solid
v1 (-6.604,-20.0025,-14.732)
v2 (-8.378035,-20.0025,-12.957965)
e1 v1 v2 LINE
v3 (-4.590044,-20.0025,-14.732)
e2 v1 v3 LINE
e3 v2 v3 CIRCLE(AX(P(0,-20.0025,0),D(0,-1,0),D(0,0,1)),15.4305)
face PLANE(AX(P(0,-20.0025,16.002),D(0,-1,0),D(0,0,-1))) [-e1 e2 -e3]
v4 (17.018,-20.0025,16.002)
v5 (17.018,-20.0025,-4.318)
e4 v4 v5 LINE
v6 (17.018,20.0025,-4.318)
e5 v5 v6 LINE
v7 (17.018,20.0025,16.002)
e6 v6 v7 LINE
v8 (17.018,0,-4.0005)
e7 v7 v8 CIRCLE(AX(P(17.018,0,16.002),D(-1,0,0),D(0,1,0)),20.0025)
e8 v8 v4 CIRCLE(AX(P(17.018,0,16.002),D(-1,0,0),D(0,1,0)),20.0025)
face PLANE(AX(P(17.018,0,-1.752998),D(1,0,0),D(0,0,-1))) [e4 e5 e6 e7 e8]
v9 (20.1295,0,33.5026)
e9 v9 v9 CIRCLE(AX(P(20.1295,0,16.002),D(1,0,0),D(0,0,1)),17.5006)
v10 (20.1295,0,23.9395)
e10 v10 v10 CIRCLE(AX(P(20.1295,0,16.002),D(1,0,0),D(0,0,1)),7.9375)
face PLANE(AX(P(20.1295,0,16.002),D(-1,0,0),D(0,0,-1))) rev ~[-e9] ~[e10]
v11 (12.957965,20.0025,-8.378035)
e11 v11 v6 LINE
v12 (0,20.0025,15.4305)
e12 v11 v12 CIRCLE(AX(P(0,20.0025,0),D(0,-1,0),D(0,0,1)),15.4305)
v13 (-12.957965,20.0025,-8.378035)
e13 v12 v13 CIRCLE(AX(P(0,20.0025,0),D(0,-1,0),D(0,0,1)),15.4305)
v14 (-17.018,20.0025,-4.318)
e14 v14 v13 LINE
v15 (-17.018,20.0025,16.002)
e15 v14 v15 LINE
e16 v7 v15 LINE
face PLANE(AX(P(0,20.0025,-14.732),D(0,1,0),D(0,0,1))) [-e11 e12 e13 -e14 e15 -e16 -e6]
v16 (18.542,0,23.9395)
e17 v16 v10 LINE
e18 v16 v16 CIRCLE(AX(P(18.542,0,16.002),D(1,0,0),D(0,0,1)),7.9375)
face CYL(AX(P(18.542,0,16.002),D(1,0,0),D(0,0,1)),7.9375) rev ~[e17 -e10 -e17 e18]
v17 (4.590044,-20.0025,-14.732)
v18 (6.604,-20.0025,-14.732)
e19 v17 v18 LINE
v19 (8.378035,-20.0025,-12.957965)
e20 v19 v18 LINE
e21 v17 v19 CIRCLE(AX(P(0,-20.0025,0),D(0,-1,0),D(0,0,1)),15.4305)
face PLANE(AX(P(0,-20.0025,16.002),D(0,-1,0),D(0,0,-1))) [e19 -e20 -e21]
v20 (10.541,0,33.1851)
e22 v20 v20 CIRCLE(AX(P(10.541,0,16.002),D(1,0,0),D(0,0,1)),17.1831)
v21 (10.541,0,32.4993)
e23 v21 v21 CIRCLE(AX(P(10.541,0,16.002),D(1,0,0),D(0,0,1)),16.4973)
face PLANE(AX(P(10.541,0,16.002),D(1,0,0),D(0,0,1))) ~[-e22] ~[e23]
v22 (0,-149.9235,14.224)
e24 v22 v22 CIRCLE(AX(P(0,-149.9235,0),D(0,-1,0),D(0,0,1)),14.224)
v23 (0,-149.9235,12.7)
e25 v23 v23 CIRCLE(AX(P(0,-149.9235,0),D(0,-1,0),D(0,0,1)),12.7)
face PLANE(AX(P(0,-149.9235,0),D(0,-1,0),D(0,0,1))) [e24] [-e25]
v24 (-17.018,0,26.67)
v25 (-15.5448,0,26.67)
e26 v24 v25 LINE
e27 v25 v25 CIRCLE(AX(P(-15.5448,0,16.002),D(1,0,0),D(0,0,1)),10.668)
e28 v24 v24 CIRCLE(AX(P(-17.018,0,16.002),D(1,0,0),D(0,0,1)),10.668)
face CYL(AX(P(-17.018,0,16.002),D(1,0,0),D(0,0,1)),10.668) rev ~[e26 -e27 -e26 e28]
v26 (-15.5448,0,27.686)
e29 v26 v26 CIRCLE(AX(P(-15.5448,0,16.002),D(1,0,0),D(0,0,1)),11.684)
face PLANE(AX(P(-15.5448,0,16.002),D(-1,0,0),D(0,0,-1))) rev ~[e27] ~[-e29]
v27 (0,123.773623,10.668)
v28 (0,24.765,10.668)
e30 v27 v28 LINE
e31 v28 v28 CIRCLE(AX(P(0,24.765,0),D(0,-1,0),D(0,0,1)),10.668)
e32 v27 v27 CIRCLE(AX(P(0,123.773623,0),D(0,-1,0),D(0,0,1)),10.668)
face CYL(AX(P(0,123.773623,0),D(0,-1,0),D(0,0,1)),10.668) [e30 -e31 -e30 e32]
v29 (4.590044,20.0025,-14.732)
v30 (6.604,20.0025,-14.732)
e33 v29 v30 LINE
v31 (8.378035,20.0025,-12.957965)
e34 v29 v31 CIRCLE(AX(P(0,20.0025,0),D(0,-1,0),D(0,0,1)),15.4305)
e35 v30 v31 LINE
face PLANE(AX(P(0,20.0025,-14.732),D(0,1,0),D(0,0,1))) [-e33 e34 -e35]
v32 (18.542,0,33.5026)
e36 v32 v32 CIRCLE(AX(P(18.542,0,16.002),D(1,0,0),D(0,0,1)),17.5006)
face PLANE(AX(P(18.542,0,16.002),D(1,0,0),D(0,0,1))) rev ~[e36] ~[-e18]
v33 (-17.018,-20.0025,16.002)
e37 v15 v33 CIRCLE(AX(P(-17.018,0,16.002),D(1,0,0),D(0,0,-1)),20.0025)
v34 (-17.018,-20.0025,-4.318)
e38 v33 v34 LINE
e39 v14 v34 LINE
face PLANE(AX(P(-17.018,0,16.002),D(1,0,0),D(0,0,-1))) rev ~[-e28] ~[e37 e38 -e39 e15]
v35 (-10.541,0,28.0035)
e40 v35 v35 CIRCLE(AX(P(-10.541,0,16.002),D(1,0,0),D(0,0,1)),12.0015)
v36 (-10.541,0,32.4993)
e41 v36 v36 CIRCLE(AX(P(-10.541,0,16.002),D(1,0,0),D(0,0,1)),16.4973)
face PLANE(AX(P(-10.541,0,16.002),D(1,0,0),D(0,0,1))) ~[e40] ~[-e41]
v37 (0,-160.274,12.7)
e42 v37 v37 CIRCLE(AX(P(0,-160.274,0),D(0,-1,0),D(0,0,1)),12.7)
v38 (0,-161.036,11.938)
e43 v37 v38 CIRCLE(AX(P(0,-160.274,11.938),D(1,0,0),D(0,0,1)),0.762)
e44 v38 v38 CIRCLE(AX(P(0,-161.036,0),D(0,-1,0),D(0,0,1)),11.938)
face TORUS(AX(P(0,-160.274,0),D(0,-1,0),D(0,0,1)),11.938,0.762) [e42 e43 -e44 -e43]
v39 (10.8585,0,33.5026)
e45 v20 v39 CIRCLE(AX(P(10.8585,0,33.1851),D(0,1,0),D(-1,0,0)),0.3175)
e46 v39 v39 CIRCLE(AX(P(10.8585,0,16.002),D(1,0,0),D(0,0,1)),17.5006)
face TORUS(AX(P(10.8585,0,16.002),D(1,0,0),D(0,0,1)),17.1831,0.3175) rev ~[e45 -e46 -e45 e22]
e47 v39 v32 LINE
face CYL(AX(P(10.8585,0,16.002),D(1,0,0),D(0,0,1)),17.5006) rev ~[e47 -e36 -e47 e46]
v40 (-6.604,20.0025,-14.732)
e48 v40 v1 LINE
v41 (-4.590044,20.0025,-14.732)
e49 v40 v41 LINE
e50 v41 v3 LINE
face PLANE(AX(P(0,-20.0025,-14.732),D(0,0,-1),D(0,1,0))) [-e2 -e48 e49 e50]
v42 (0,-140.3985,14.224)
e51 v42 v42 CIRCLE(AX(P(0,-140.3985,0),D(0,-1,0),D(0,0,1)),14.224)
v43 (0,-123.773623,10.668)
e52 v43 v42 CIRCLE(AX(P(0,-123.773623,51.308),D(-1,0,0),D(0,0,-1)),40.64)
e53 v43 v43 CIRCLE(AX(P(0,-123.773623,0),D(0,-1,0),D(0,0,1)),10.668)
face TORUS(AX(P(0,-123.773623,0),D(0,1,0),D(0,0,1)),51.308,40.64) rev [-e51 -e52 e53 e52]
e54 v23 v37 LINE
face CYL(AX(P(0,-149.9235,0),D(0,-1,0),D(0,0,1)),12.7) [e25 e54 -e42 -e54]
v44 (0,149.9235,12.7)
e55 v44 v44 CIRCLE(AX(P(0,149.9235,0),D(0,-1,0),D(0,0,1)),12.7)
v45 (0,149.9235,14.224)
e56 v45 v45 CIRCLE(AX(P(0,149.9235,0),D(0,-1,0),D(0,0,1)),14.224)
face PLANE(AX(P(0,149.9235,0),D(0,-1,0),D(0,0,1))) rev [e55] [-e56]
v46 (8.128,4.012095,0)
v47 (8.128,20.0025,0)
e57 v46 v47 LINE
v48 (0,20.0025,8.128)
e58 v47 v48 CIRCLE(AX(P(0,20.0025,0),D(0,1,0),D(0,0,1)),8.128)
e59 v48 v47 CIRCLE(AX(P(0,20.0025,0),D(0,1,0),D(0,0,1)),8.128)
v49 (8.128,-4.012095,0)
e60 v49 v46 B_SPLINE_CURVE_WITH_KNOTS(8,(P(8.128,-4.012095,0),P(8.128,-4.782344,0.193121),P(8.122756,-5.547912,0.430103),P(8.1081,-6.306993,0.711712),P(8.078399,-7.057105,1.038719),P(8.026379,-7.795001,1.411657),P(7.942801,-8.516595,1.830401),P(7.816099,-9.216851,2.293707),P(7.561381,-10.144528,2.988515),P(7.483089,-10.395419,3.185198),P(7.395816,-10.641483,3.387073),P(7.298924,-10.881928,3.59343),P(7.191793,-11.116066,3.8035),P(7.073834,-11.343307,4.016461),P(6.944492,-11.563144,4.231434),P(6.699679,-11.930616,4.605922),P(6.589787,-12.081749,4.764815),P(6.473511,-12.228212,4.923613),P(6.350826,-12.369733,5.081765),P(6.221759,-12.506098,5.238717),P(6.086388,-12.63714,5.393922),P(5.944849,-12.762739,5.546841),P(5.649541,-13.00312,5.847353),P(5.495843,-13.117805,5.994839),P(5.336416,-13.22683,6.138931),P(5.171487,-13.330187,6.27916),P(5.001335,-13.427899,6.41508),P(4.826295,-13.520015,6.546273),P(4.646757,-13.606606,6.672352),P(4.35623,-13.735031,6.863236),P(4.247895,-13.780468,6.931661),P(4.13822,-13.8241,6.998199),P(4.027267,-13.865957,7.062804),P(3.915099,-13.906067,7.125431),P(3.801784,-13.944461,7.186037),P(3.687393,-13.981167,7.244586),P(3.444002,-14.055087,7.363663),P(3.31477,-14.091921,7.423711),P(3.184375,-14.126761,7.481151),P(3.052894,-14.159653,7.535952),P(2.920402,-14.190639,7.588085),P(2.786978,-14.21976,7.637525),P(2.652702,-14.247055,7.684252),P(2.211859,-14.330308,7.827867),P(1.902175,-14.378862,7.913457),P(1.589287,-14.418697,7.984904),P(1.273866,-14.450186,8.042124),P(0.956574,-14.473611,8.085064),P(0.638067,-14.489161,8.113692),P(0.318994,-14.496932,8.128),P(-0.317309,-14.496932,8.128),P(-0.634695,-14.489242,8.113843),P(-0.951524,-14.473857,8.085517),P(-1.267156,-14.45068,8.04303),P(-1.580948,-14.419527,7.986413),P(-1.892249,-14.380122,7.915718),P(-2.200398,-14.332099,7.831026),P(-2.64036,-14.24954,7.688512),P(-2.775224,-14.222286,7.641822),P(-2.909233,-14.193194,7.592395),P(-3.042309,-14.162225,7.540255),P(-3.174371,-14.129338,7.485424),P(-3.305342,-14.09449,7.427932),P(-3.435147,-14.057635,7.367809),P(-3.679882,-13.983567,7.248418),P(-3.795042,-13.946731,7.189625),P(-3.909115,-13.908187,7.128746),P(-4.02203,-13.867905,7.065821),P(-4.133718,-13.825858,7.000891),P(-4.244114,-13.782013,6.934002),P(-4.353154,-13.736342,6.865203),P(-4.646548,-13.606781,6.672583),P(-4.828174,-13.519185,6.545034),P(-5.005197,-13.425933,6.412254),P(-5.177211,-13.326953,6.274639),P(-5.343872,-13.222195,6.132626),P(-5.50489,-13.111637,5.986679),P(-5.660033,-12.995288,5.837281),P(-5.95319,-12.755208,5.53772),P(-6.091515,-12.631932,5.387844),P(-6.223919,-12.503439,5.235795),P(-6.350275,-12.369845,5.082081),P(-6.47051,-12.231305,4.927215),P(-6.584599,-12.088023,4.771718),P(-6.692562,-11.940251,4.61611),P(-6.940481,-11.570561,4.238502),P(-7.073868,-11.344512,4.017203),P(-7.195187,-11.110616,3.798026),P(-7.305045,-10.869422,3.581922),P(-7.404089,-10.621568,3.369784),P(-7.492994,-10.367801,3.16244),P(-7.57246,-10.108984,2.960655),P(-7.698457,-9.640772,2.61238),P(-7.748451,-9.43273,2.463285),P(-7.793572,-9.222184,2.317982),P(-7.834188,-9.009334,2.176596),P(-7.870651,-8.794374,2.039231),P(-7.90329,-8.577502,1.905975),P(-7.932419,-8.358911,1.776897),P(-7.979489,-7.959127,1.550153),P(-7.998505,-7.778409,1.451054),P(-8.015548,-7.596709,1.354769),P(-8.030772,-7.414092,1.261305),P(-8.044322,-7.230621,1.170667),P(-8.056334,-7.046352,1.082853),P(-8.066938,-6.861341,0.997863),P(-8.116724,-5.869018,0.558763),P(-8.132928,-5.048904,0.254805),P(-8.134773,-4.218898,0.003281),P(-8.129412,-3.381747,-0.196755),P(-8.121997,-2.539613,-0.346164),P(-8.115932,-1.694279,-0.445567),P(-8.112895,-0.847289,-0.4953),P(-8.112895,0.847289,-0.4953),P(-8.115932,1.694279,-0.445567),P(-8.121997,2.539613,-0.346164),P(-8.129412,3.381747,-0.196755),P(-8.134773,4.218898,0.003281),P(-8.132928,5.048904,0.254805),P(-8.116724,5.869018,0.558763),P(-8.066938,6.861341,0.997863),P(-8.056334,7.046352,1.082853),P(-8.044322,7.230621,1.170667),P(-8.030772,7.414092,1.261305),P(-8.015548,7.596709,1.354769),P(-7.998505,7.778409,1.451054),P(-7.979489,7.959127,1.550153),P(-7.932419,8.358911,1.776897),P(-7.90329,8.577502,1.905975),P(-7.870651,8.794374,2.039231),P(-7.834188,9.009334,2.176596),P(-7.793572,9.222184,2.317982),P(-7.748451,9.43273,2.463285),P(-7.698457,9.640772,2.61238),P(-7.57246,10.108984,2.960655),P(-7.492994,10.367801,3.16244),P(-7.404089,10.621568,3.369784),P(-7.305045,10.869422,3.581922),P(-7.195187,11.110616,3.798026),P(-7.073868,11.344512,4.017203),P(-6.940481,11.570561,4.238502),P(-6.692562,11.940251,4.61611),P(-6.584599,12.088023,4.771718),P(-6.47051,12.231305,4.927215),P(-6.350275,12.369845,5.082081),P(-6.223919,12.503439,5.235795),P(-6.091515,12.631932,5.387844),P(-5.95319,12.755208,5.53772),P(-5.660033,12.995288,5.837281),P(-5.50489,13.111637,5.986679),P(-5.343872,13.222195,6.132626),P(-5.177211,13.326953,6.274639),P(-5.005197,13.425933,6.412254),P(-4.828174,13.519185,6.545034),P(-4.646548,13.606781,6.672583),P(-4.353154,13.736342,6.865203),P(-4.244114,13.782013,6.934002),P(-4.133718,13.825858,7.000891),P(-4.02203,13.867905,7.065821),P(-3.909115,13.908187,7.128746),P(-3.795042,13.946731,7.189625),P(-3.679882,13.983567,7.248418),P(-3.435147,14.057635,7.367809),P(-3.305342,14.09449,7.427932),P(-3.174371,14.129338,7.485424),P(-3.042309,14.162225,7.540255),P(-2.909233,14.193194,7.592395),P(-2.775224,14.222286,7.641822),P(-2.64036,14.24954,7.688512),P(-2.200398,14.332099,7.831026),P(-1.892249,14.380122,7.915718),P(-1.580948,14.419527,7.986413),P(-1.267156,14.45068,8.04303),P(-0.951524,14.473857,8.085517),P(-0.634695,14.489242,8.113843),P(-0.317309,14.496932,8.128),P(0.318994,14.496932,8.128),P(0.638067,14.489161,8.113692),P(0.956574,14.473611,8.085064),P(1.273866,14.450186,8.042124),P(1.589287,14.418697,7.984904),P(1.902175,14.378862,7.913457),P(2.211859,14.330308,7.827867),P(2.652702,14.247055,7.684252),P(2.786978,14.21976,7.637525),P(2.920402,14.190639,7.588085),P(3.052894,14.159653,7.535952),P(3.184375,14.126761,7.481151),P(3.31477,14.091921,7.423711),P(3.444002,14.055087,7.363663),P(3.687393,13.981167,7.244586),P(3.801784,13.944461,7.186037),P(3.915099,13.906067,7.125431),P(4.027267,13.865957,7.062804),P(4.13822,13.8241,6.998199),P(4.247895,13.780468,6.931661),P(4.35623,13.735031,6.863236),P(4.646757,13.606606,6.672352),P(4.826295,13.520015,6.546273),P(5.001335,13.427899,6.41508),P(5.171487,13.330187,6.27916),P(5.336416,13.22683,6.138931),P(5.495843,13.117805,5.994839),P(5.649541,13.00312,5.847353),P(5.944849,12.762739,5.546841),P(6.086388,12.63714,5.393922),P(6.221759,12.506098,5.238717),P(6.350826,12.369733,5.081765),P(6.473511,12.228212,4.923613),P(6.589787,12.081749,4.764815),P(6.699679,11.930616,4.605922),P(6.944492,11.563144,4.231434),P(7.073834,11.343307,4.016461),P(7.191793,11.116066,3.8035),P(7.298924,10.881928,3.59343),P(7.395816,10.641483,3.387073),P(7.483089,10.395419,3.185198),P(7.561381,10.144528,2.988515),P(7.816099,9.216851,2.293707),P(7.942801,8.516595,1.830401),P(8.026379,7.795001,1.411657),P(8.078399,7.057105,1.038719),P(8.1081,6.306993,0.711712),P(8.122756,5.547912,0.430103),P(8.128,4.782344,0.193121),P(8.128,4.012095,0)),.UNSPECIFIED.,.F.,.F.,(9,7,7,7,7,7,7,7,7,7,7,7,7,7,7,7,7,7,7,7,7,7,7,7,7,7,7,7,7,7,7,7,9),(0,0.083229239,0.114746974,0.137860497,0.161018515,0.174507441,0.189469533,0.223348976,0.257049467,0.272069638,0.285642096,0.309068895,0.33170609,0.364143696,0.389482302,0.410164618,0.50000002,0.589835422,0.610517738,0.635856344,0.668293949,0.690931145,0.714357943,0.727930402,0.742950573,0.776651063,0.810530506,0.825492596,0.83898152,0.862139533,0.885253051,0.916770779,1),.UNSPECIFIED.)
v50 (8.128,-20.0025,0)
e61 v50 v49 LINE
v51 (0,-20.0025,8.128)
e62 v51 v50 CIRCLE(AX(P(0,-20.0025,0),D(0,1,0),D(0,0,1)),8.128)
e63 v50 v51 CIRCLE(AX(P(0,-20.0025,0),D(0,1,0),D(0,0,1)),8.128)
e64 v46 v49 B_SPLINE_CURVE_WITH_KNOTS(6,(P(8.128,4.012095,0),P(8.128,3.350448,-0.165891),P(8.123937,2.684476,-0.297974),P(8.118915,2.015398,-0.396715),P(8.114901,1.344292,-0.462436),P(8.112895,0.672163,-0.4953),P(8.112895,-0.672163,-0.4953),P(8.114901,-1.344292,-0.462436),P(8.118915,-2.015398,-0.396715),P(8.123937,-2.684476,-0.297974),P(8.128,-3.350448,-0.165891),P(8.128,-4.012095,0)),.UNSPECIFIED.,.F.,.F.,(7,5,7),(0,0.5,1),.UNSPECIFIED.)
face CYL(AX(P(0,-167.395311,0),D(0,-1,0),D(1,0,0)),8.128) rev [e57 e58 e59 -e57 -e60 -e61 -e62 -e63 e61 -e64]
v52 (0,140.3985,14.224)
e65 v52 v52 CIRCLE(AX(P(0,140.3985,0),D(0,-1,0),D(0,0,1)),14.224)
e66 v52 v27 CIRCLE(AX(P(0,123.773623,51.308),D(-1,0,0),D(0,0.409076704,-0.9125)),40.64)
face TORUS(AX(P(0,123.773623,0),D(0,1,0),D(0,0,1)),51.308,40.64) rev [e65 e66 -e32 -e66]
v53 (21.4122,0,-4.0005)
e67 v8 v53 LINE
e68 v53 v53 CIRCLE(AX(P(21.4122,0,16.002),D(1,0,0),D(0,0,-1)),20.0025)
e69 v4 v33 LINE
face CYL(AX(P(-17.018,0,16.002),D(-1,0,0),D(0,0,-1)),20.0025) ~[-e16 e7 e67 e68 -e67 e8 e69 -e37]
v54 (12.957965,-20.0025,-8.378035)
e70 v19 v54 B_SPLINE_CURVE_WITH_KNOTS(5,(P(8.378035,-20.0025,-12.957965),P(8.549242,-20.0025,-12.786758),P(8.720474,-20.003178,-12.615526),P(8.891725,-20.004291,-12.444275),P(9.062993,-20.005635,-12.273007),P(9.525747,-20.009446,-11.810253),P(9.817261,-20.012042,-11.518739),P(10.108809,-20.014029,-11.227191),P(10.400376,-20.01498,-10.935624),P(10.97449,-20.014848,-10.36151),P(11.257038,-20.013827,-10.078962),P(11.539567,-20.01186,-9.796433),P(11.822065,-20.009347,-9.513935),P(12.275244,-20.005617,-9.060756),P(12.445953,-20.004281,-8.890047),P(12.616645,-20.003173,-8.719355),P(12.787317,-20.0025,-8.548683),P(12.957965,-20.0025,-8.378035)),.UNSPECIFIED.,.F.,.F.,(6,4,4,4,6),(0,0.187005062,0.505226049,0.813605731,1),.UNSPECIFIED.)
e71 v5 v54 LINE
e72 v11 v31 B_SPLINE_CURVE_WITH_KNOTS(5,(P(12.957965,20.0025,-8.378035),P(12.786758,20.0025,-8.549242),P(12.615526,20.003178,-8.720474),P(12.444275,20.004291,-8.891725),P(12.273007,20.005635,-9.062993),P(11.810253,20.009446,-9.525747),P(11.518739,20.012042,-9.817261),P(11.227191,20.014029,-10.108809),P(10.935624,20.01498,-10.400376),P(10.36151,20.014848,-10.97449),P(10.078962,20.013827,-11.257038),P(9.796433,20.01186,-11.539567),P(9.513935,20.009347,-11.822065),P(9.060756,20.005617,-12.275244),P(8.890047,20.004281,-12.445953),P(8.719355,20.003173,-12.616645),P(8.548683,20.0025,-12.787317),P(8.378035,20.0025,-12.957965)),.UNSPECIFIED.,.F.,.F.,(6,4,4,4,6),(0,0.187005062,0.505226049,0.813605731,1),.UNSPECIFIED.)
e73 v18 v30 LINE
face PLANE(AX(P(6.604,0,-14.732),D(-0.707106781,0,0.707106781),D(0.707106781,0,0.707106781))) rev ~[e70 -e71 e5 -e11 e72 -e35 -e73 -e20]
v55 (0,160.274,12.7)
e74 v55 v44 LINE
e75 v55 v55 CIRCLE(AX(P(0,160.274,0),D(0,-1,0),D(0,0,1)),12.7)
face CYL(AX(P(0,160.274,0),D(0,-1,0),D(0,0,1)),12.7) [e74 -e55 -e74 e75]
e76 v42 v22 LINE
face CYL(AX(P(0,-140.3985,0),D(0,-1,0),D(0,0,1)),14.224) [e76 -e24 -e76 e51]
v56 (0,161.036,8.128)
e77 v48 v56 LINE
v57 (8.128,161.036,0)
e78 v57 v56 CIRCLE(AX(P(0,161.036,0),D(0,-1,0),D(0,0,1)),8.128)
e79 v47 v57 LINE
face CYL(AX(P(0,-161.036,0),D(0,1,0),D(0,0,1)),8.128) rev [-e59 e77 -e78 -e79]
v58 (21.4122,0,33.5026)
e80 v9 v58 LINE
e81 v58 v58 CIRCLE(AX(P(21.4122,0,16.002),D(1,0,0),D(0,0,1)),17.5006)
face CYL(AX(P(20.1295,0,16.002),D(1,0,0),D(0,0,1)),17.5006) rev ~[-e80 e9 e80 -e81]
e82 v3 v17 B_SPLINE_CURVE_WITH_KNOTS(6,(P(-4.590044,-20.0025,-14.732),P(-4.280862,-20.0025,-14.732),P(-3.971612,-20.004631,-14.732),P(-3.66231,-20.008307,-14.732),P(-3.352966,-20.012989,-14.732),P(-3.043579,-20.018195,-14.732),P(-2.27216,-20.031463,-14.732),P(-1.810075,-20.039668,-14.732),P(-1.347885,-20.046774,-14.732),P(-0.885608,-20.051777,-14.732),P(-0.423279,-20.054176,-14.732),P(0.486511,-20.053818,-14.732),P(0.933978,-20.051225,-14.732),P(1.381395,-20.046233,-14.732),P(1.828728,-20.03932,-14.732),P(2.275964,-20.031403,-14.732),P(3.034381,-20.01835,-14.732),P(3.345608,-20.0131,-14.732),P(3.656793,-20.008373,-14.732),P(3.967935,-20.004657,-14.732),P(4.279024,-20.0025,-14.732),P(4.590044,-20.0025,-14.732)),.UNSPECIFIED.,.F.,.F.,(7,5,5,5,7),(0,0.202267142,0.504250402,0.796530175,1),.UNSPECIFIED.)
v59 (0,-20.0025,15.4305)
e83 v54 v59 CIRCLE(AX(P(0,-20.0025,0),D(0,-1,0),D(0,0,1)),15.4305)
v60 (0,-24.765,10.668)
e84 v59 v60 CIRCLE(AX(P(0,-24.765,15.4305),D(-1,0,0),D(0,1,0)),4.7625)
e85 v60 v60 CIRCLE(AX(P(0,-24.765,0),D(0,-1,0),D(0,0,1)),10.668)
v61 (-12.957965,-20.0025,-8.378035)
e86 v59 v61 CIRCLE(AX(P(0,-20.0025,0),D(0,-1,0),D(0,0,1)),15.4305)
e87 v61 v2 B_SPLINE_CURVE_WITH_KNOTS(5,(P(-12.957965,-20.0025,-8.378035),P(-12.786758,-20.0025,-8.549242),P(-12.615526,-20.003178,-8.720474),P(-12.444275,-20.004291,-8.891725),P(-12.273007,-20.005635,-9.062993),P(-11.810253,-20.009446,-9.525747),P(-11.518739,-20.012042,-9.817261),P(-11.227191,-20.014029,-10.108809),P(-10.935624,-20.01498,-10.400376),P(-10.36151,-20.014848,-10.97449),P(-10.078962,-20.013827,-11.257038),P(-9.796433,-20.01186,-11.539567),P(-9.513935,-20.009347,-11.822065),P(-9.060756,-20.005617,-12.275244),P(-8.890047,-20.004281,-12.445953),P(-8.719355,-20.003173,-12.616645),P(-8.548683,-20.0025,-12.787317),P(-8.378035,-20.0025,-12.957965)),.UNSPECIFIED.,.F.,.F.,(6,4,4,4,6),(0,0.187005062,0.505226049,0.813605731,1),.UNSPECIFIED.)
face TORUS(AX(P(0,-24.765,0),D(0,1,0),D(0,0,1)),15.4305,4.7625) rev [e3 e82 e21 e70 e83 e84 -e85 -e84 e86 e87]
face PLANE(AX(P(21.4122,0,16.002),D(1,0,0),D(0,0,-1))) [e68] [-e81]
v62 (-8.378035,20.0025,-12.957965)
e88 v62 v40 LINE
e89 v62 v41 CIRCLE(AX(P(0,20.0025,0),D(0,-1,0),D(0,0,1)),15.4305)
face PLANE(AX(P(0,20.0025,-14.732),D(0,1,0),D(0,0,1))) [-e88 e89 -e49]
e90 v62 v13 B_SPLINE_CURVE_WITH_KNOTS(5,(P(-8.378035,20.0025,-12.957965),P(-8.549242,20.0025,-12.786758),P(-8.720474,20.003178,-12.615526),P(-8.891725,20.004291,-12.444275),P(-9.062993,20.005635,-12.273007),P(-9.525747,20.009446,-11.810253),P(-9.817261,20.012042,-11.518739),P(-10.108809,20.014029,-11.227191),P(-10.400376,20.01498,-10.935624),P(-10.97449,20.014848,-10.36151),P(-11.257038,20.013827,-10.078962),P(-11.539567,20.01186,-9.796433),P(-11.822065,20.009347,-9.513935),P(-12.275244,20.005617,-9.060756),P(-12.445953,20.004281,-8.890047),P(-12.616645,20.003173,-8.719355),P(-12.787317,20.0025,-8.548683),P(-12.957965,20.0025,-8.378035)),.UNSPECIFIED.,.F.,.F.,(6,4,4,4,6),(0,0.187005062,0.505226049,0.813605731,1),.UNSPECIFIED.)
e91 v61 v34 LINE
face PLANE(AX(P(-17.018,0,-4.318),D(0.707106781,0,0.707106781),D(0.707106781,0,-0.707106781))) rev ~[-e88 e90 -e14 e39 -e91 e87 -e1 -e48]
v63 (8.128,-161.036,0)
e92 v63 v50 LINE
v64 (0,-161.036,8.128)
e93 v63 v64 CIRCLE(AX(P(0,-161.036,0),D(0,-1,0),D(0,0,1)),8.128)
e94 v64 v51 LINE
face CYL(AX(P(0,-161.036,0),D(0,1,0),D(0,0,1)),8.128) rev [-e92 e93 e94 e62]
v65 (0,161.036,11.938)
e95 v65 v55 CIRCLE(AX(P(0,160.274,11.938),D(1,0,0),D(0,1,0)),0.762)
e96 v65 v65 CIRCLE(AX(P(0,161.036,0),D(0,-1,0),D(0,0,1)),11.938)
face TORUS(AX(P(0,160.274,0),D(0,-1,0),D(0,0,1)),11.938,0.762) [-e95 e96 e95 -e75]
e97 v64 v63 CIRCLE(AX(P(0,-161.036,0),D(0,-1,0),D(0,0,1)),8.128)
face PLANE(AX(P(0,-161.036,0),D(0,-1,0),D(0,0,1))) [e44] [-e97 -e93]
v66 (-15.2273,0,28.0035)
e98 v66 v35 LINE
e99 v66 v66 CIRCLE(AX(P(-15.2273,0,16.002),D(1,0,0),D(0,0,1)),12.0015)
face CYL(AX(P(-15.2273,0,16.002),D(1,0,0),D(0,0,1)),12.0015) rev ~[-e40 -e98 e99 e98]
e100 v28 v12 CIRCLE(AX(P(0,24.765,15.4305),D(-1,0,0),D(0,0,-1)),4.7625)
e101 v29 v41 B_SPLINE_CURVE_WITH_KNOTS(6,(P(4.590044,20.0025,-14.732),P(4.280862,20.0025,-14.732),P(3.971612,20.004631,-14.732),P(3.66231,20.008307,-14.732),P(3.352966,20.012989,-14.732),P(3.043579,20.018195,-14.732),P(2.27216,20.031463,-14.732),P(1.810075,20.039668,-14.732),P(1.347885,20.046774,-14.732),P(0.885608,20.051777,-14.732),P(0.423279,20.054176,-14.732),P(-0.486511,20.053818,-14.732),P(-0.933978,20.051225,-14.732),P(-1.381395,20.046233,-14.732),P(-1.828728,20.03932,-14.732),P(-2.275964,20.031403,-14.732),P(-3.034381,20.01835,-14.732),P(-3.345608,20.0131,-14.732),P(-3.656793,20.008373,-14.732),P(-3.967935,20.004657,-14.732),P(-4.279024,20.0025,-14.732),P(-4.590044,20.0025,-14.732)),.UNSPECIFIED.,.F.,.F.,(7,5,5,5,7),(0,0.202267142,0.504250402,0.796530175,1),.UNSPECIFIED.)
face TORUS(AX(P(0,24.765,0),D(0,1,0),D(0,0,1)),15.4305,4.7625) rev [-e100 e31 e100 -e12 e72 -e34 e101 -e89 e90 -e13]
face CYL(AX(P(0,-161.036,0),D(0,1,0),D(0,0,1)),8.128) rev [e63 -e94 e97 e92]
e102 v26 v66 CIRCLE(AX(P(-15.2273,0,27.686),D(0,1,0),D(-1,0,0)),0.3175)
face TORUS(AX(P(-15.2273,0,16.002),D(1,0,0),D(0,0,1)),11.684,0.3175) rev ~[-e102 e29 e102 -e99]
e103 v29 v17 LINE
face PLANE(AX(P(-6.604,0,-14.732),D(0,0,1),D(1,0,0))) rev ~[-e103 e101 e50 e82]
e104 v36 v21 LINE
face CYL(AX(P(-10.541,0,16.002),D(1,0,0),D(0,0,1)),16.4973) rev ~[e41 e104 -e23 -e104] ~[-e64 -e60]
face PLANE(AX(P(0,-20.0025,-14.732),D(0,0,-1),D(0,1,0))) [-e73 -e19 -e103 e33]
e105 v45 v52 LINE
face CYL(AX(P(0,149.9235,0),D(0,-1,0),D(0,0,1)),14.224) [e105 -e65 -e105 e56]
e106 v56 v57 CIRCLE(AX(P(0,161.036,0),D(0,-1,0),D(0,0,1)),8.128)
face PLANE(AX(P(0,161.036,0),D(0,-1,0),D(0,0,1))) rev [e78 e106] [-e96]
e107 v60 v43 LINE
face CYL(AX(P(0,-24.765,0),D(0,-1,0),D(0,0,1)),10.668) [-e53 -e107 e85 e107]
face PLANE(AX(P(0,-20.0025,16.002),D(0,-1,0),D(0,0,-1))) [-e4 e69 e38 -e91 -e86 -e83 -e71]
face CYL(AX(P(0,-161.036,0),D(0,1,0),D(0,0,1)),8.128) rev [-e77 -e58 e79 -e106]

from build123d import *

# Parameters (mm, degrees)
BOSS_EXTRUDE1_DEPTH            = 17.018
BOSS_EXTRUDE2_DEPTH            = 21.412199999999995
BOSS_EXTRUDE2_DEPTH_BACK       = 17.018
SKETCH2_3_R                    = 20.002499999999998
RACK_CLEARANCE_HOLE_DEPTH      = 167.39531130741034
RACK_CLEARANCE_HOLE_DEPTH_BACK = 167.39531130741034
SKETCH5_R                      = 8.127999999999973
BODY_CHAMFER_DEPTH             = 25.4


with BuildPart() as part:
    # Sketch1 → Boss-Extrude1 (new, symmetric)
    with BuildSketch(Plane(origin=(0, 0, 0), x_dir=(0, 0, -1), z_dir=(1, 0, 0))):
        with BuildLine():
            ThreePointArc((4.000500000000006, -4.9e-15), (-1.8580966093160818, -14.143903390683924), (-16.002000000000002, -20.002500000000005))
            Line((-16.002, -20.0025), (14.731999999999996, -20.002499999999998))
            Line((14.731999999999996, -20.002499999999998), (14.731999999999996, 20.002499999999998))
            Line((14.731999999999996, 20.002499999999998), (-16.002, 20.0025))
            ThreePointArc((-16.002, 20.002500000000005), (-1.8580966093160782, 14.143903390683919), (4.000500000000006, 0))
        make_face()
    extrude(amount=BOSS_EXTRUDE1_DEPTH, both=True)

    # Sketch2<3> → Boss-Extrude2 (add, two sides: drawn at the far end of the back side and taken through both)
    with BuildSketch(Plane(origin=(0, 0, 0), x_dir=(0, 0, -1), z_dir=(1, 0, 0)).offset(-BOSS_EXTRUDE2_DEPTH_BACK)):
        with Locations((-16.001999999999995, -7.11e-15)):
            Circle(SKETCH2_3_R)
    extrude(amount=BOSS_EXTRUDE2_DEPTH + BOSS_EXTRUDE2_DEPTH_BACK)

    # Sketch4 → Rack Housing Revolve (revolve)
    with BuildSketch(Plane(origin=(0, 0, 0), x_dir=(0, 0, -1), z_dir=(1, 0, 0))):
        with BuildLine():
            Line((-8.127999999999954, -161.036), (-8.127999999999954, 161.036))
            Line((-8.127999999999954, 161.036), (-11.937999999999954, 161.036))
            ThreePointArc((-11.937999999999954, 161.036), (-12.476815367264102, 160.8128153672641), (-12.699999999999953, 160.27399999999997))
            Line((-12.699999999999953, 160.27399999999997), (-12.699999999999955, 149.92350000000002))
            Line((-12.699999999999955, 149.92350000000002), (-14.223999999999956, 149.92350000000002))
            Line((-14.223999999999956, 149.92350000000002), (-14.223999999999954, 140.3985))
            ThreePointArc((-14.223999999999954, 140.3985), (-11.56694213788461, 132.27408860688138), (-10.667999999999955, 123.77362273729518))
            Line((-10.667999999999955, 123.77362273729518), (-10.667999999999955, 24.765))
            ThreePointArc((-10.667999999999955, 24.765), (-12.062903954599022, 21.39740395459907), (-15.430499999999954, 20.0025))
            Line((-15.430499999999954, 20.0025), (-15.430499999999954, -20.0025))
            ThreePointArc((-15.430499999999954, -20.0025), (-12.062903954599022, -21.39740395459907), (-10.667999999999955, -24.765))
            Line((-10.667999999999955, -24.765), (-10.667999999999955, -123.77362273729518))
            ThreePointArc((-10.667999999999955, -123.77362273729518), (-11.56694213788461, -132.27408860688138), (-14.223999999999954, -140.3985))
            Line((-14.223999999999954, -140.3985), (-14.223999999999956, -149.92350000000002))
            Line((-14.223999999999956, -149.92350000000002), (-12.699999999999955, -149.92350000000002))
            Line((-12.699999999999955, -149.92350000000002), (-12.699999999999953, -160.27399999999997))
            ThreePointArc((-12.699999999999953, -160.27399999999997), (-12.476815367264102, -160.8128153672641), (-11.937999999999954, -161.036))
            Line((-11.937999999999954, -161.036), (-8.127999999999954, -161.036))
        make_face()
    revolve(axis=Axis((0, 220.98000000000002, 0), (0, -1, 0)))

    # Sketch2 → Pinion Revolve Cut (revolve, cut)
    with BuildSketch(Plane(origin=(0, 0, 0), x_dir=(1, 0, 0), z_dir=(0, 1, 0))):
        with BuildLine():
            Line((-17.018, -16.002000000000002), (-17.018, -26.67))
            Line((-17.018, -26.67), (-15.5448, -26.67))
            Line((-15.5448, -26.67), (-15.5448, -27.686000000000003))
            ThreePointArc((-15.5448, -27.686000000000003), (-15.451806403026724, -27.910506403026726), (-15.227300000000001, -28.003499999999995))
            Line((-15.227300000000001, -28.003499999999995), (-10.541, -28.0035))
            Line((-10.541, -28.0035), (-10.540999999999999, -32.4993))
            Line((-10.540999999999999, -32.4993), (10.540999999999999, -32.4993))
            Line((10.540999999999999, -32.4993), (10.541, -33.1851))
            ThreePointArc((10.541, -33.1851), (10.633993596973268, -33.40960640302673), (10.858499999999998, -33.5026))
            Line((10.858499999999998, -33.5026), (18.541999999999998, -33.502599999999994))
            Line((18.541999999999998, -33.502599999999994), (18.541999999999998, -23.9395))
            Line((18.541999999999998, -23.9395), (20.129499999999997, -23.9395))
            Line((20.129499999999997, -23.9395), (20.129499999999997, -33.502599999999994))
            Line((20.129499999999997, -33.502599999999994), (21.412199999999995, -33.502599999999994))
            Line((21.412199999999995, -33.502599999999994), (21.412199999999995, -16.002))
            Line((21.412199999999995, -16.002), (-17.018, -16.002000000000002))
        make_face()
    revolve(axis=Axis((-17.018, 0, 16.002000000000002), (1, 0, -9e-17)), mode=Mode.SUBTRACT)

    # Sketch5 → Rack Clearance Hole (cut, two sides: drawn at the far end of the back side and taken through both)
    with BuildSketch(Plane(origin=(0, 0, 0), x_dir=(1, 0, 0), z_dir=(0, 1, 0)).offset(-RACK_CLEARANCE_HOLE_DEPTH_BACK)):
        Circle(SKETCH5_R)
    extrude(amount=RACK_CLEARANCE_HOLE_DEPTH + RACK_CLEARANCE_HOLE_DEPTH_BACK, mode=Mode.SUBTRACT)

    # Sketch6 → Body Chamfer (cut, symmetric)
    with BuildSketch(Plane(origin=(0, 0, 0), x_dir=(1, 0, 0), z_dir=(0, 1, 0))):
        Polygon((-6.603999999999999, 14.731999999999996), (6.603999999999999, 14.731999999999996), (17.018, 4.318000000000113), (17.018, 14.731999999999996), (17.018, 17.906999999999996), (-17.018, 17.906999999999996), (-17.018, 14.731999999999996), (-17.018, 4.318000000000103), align=None)
    extrude(amount=BODY_CHAMFER_DEPTH, both=True, mode=Mode.SUBTRACT)


solid = part.part
